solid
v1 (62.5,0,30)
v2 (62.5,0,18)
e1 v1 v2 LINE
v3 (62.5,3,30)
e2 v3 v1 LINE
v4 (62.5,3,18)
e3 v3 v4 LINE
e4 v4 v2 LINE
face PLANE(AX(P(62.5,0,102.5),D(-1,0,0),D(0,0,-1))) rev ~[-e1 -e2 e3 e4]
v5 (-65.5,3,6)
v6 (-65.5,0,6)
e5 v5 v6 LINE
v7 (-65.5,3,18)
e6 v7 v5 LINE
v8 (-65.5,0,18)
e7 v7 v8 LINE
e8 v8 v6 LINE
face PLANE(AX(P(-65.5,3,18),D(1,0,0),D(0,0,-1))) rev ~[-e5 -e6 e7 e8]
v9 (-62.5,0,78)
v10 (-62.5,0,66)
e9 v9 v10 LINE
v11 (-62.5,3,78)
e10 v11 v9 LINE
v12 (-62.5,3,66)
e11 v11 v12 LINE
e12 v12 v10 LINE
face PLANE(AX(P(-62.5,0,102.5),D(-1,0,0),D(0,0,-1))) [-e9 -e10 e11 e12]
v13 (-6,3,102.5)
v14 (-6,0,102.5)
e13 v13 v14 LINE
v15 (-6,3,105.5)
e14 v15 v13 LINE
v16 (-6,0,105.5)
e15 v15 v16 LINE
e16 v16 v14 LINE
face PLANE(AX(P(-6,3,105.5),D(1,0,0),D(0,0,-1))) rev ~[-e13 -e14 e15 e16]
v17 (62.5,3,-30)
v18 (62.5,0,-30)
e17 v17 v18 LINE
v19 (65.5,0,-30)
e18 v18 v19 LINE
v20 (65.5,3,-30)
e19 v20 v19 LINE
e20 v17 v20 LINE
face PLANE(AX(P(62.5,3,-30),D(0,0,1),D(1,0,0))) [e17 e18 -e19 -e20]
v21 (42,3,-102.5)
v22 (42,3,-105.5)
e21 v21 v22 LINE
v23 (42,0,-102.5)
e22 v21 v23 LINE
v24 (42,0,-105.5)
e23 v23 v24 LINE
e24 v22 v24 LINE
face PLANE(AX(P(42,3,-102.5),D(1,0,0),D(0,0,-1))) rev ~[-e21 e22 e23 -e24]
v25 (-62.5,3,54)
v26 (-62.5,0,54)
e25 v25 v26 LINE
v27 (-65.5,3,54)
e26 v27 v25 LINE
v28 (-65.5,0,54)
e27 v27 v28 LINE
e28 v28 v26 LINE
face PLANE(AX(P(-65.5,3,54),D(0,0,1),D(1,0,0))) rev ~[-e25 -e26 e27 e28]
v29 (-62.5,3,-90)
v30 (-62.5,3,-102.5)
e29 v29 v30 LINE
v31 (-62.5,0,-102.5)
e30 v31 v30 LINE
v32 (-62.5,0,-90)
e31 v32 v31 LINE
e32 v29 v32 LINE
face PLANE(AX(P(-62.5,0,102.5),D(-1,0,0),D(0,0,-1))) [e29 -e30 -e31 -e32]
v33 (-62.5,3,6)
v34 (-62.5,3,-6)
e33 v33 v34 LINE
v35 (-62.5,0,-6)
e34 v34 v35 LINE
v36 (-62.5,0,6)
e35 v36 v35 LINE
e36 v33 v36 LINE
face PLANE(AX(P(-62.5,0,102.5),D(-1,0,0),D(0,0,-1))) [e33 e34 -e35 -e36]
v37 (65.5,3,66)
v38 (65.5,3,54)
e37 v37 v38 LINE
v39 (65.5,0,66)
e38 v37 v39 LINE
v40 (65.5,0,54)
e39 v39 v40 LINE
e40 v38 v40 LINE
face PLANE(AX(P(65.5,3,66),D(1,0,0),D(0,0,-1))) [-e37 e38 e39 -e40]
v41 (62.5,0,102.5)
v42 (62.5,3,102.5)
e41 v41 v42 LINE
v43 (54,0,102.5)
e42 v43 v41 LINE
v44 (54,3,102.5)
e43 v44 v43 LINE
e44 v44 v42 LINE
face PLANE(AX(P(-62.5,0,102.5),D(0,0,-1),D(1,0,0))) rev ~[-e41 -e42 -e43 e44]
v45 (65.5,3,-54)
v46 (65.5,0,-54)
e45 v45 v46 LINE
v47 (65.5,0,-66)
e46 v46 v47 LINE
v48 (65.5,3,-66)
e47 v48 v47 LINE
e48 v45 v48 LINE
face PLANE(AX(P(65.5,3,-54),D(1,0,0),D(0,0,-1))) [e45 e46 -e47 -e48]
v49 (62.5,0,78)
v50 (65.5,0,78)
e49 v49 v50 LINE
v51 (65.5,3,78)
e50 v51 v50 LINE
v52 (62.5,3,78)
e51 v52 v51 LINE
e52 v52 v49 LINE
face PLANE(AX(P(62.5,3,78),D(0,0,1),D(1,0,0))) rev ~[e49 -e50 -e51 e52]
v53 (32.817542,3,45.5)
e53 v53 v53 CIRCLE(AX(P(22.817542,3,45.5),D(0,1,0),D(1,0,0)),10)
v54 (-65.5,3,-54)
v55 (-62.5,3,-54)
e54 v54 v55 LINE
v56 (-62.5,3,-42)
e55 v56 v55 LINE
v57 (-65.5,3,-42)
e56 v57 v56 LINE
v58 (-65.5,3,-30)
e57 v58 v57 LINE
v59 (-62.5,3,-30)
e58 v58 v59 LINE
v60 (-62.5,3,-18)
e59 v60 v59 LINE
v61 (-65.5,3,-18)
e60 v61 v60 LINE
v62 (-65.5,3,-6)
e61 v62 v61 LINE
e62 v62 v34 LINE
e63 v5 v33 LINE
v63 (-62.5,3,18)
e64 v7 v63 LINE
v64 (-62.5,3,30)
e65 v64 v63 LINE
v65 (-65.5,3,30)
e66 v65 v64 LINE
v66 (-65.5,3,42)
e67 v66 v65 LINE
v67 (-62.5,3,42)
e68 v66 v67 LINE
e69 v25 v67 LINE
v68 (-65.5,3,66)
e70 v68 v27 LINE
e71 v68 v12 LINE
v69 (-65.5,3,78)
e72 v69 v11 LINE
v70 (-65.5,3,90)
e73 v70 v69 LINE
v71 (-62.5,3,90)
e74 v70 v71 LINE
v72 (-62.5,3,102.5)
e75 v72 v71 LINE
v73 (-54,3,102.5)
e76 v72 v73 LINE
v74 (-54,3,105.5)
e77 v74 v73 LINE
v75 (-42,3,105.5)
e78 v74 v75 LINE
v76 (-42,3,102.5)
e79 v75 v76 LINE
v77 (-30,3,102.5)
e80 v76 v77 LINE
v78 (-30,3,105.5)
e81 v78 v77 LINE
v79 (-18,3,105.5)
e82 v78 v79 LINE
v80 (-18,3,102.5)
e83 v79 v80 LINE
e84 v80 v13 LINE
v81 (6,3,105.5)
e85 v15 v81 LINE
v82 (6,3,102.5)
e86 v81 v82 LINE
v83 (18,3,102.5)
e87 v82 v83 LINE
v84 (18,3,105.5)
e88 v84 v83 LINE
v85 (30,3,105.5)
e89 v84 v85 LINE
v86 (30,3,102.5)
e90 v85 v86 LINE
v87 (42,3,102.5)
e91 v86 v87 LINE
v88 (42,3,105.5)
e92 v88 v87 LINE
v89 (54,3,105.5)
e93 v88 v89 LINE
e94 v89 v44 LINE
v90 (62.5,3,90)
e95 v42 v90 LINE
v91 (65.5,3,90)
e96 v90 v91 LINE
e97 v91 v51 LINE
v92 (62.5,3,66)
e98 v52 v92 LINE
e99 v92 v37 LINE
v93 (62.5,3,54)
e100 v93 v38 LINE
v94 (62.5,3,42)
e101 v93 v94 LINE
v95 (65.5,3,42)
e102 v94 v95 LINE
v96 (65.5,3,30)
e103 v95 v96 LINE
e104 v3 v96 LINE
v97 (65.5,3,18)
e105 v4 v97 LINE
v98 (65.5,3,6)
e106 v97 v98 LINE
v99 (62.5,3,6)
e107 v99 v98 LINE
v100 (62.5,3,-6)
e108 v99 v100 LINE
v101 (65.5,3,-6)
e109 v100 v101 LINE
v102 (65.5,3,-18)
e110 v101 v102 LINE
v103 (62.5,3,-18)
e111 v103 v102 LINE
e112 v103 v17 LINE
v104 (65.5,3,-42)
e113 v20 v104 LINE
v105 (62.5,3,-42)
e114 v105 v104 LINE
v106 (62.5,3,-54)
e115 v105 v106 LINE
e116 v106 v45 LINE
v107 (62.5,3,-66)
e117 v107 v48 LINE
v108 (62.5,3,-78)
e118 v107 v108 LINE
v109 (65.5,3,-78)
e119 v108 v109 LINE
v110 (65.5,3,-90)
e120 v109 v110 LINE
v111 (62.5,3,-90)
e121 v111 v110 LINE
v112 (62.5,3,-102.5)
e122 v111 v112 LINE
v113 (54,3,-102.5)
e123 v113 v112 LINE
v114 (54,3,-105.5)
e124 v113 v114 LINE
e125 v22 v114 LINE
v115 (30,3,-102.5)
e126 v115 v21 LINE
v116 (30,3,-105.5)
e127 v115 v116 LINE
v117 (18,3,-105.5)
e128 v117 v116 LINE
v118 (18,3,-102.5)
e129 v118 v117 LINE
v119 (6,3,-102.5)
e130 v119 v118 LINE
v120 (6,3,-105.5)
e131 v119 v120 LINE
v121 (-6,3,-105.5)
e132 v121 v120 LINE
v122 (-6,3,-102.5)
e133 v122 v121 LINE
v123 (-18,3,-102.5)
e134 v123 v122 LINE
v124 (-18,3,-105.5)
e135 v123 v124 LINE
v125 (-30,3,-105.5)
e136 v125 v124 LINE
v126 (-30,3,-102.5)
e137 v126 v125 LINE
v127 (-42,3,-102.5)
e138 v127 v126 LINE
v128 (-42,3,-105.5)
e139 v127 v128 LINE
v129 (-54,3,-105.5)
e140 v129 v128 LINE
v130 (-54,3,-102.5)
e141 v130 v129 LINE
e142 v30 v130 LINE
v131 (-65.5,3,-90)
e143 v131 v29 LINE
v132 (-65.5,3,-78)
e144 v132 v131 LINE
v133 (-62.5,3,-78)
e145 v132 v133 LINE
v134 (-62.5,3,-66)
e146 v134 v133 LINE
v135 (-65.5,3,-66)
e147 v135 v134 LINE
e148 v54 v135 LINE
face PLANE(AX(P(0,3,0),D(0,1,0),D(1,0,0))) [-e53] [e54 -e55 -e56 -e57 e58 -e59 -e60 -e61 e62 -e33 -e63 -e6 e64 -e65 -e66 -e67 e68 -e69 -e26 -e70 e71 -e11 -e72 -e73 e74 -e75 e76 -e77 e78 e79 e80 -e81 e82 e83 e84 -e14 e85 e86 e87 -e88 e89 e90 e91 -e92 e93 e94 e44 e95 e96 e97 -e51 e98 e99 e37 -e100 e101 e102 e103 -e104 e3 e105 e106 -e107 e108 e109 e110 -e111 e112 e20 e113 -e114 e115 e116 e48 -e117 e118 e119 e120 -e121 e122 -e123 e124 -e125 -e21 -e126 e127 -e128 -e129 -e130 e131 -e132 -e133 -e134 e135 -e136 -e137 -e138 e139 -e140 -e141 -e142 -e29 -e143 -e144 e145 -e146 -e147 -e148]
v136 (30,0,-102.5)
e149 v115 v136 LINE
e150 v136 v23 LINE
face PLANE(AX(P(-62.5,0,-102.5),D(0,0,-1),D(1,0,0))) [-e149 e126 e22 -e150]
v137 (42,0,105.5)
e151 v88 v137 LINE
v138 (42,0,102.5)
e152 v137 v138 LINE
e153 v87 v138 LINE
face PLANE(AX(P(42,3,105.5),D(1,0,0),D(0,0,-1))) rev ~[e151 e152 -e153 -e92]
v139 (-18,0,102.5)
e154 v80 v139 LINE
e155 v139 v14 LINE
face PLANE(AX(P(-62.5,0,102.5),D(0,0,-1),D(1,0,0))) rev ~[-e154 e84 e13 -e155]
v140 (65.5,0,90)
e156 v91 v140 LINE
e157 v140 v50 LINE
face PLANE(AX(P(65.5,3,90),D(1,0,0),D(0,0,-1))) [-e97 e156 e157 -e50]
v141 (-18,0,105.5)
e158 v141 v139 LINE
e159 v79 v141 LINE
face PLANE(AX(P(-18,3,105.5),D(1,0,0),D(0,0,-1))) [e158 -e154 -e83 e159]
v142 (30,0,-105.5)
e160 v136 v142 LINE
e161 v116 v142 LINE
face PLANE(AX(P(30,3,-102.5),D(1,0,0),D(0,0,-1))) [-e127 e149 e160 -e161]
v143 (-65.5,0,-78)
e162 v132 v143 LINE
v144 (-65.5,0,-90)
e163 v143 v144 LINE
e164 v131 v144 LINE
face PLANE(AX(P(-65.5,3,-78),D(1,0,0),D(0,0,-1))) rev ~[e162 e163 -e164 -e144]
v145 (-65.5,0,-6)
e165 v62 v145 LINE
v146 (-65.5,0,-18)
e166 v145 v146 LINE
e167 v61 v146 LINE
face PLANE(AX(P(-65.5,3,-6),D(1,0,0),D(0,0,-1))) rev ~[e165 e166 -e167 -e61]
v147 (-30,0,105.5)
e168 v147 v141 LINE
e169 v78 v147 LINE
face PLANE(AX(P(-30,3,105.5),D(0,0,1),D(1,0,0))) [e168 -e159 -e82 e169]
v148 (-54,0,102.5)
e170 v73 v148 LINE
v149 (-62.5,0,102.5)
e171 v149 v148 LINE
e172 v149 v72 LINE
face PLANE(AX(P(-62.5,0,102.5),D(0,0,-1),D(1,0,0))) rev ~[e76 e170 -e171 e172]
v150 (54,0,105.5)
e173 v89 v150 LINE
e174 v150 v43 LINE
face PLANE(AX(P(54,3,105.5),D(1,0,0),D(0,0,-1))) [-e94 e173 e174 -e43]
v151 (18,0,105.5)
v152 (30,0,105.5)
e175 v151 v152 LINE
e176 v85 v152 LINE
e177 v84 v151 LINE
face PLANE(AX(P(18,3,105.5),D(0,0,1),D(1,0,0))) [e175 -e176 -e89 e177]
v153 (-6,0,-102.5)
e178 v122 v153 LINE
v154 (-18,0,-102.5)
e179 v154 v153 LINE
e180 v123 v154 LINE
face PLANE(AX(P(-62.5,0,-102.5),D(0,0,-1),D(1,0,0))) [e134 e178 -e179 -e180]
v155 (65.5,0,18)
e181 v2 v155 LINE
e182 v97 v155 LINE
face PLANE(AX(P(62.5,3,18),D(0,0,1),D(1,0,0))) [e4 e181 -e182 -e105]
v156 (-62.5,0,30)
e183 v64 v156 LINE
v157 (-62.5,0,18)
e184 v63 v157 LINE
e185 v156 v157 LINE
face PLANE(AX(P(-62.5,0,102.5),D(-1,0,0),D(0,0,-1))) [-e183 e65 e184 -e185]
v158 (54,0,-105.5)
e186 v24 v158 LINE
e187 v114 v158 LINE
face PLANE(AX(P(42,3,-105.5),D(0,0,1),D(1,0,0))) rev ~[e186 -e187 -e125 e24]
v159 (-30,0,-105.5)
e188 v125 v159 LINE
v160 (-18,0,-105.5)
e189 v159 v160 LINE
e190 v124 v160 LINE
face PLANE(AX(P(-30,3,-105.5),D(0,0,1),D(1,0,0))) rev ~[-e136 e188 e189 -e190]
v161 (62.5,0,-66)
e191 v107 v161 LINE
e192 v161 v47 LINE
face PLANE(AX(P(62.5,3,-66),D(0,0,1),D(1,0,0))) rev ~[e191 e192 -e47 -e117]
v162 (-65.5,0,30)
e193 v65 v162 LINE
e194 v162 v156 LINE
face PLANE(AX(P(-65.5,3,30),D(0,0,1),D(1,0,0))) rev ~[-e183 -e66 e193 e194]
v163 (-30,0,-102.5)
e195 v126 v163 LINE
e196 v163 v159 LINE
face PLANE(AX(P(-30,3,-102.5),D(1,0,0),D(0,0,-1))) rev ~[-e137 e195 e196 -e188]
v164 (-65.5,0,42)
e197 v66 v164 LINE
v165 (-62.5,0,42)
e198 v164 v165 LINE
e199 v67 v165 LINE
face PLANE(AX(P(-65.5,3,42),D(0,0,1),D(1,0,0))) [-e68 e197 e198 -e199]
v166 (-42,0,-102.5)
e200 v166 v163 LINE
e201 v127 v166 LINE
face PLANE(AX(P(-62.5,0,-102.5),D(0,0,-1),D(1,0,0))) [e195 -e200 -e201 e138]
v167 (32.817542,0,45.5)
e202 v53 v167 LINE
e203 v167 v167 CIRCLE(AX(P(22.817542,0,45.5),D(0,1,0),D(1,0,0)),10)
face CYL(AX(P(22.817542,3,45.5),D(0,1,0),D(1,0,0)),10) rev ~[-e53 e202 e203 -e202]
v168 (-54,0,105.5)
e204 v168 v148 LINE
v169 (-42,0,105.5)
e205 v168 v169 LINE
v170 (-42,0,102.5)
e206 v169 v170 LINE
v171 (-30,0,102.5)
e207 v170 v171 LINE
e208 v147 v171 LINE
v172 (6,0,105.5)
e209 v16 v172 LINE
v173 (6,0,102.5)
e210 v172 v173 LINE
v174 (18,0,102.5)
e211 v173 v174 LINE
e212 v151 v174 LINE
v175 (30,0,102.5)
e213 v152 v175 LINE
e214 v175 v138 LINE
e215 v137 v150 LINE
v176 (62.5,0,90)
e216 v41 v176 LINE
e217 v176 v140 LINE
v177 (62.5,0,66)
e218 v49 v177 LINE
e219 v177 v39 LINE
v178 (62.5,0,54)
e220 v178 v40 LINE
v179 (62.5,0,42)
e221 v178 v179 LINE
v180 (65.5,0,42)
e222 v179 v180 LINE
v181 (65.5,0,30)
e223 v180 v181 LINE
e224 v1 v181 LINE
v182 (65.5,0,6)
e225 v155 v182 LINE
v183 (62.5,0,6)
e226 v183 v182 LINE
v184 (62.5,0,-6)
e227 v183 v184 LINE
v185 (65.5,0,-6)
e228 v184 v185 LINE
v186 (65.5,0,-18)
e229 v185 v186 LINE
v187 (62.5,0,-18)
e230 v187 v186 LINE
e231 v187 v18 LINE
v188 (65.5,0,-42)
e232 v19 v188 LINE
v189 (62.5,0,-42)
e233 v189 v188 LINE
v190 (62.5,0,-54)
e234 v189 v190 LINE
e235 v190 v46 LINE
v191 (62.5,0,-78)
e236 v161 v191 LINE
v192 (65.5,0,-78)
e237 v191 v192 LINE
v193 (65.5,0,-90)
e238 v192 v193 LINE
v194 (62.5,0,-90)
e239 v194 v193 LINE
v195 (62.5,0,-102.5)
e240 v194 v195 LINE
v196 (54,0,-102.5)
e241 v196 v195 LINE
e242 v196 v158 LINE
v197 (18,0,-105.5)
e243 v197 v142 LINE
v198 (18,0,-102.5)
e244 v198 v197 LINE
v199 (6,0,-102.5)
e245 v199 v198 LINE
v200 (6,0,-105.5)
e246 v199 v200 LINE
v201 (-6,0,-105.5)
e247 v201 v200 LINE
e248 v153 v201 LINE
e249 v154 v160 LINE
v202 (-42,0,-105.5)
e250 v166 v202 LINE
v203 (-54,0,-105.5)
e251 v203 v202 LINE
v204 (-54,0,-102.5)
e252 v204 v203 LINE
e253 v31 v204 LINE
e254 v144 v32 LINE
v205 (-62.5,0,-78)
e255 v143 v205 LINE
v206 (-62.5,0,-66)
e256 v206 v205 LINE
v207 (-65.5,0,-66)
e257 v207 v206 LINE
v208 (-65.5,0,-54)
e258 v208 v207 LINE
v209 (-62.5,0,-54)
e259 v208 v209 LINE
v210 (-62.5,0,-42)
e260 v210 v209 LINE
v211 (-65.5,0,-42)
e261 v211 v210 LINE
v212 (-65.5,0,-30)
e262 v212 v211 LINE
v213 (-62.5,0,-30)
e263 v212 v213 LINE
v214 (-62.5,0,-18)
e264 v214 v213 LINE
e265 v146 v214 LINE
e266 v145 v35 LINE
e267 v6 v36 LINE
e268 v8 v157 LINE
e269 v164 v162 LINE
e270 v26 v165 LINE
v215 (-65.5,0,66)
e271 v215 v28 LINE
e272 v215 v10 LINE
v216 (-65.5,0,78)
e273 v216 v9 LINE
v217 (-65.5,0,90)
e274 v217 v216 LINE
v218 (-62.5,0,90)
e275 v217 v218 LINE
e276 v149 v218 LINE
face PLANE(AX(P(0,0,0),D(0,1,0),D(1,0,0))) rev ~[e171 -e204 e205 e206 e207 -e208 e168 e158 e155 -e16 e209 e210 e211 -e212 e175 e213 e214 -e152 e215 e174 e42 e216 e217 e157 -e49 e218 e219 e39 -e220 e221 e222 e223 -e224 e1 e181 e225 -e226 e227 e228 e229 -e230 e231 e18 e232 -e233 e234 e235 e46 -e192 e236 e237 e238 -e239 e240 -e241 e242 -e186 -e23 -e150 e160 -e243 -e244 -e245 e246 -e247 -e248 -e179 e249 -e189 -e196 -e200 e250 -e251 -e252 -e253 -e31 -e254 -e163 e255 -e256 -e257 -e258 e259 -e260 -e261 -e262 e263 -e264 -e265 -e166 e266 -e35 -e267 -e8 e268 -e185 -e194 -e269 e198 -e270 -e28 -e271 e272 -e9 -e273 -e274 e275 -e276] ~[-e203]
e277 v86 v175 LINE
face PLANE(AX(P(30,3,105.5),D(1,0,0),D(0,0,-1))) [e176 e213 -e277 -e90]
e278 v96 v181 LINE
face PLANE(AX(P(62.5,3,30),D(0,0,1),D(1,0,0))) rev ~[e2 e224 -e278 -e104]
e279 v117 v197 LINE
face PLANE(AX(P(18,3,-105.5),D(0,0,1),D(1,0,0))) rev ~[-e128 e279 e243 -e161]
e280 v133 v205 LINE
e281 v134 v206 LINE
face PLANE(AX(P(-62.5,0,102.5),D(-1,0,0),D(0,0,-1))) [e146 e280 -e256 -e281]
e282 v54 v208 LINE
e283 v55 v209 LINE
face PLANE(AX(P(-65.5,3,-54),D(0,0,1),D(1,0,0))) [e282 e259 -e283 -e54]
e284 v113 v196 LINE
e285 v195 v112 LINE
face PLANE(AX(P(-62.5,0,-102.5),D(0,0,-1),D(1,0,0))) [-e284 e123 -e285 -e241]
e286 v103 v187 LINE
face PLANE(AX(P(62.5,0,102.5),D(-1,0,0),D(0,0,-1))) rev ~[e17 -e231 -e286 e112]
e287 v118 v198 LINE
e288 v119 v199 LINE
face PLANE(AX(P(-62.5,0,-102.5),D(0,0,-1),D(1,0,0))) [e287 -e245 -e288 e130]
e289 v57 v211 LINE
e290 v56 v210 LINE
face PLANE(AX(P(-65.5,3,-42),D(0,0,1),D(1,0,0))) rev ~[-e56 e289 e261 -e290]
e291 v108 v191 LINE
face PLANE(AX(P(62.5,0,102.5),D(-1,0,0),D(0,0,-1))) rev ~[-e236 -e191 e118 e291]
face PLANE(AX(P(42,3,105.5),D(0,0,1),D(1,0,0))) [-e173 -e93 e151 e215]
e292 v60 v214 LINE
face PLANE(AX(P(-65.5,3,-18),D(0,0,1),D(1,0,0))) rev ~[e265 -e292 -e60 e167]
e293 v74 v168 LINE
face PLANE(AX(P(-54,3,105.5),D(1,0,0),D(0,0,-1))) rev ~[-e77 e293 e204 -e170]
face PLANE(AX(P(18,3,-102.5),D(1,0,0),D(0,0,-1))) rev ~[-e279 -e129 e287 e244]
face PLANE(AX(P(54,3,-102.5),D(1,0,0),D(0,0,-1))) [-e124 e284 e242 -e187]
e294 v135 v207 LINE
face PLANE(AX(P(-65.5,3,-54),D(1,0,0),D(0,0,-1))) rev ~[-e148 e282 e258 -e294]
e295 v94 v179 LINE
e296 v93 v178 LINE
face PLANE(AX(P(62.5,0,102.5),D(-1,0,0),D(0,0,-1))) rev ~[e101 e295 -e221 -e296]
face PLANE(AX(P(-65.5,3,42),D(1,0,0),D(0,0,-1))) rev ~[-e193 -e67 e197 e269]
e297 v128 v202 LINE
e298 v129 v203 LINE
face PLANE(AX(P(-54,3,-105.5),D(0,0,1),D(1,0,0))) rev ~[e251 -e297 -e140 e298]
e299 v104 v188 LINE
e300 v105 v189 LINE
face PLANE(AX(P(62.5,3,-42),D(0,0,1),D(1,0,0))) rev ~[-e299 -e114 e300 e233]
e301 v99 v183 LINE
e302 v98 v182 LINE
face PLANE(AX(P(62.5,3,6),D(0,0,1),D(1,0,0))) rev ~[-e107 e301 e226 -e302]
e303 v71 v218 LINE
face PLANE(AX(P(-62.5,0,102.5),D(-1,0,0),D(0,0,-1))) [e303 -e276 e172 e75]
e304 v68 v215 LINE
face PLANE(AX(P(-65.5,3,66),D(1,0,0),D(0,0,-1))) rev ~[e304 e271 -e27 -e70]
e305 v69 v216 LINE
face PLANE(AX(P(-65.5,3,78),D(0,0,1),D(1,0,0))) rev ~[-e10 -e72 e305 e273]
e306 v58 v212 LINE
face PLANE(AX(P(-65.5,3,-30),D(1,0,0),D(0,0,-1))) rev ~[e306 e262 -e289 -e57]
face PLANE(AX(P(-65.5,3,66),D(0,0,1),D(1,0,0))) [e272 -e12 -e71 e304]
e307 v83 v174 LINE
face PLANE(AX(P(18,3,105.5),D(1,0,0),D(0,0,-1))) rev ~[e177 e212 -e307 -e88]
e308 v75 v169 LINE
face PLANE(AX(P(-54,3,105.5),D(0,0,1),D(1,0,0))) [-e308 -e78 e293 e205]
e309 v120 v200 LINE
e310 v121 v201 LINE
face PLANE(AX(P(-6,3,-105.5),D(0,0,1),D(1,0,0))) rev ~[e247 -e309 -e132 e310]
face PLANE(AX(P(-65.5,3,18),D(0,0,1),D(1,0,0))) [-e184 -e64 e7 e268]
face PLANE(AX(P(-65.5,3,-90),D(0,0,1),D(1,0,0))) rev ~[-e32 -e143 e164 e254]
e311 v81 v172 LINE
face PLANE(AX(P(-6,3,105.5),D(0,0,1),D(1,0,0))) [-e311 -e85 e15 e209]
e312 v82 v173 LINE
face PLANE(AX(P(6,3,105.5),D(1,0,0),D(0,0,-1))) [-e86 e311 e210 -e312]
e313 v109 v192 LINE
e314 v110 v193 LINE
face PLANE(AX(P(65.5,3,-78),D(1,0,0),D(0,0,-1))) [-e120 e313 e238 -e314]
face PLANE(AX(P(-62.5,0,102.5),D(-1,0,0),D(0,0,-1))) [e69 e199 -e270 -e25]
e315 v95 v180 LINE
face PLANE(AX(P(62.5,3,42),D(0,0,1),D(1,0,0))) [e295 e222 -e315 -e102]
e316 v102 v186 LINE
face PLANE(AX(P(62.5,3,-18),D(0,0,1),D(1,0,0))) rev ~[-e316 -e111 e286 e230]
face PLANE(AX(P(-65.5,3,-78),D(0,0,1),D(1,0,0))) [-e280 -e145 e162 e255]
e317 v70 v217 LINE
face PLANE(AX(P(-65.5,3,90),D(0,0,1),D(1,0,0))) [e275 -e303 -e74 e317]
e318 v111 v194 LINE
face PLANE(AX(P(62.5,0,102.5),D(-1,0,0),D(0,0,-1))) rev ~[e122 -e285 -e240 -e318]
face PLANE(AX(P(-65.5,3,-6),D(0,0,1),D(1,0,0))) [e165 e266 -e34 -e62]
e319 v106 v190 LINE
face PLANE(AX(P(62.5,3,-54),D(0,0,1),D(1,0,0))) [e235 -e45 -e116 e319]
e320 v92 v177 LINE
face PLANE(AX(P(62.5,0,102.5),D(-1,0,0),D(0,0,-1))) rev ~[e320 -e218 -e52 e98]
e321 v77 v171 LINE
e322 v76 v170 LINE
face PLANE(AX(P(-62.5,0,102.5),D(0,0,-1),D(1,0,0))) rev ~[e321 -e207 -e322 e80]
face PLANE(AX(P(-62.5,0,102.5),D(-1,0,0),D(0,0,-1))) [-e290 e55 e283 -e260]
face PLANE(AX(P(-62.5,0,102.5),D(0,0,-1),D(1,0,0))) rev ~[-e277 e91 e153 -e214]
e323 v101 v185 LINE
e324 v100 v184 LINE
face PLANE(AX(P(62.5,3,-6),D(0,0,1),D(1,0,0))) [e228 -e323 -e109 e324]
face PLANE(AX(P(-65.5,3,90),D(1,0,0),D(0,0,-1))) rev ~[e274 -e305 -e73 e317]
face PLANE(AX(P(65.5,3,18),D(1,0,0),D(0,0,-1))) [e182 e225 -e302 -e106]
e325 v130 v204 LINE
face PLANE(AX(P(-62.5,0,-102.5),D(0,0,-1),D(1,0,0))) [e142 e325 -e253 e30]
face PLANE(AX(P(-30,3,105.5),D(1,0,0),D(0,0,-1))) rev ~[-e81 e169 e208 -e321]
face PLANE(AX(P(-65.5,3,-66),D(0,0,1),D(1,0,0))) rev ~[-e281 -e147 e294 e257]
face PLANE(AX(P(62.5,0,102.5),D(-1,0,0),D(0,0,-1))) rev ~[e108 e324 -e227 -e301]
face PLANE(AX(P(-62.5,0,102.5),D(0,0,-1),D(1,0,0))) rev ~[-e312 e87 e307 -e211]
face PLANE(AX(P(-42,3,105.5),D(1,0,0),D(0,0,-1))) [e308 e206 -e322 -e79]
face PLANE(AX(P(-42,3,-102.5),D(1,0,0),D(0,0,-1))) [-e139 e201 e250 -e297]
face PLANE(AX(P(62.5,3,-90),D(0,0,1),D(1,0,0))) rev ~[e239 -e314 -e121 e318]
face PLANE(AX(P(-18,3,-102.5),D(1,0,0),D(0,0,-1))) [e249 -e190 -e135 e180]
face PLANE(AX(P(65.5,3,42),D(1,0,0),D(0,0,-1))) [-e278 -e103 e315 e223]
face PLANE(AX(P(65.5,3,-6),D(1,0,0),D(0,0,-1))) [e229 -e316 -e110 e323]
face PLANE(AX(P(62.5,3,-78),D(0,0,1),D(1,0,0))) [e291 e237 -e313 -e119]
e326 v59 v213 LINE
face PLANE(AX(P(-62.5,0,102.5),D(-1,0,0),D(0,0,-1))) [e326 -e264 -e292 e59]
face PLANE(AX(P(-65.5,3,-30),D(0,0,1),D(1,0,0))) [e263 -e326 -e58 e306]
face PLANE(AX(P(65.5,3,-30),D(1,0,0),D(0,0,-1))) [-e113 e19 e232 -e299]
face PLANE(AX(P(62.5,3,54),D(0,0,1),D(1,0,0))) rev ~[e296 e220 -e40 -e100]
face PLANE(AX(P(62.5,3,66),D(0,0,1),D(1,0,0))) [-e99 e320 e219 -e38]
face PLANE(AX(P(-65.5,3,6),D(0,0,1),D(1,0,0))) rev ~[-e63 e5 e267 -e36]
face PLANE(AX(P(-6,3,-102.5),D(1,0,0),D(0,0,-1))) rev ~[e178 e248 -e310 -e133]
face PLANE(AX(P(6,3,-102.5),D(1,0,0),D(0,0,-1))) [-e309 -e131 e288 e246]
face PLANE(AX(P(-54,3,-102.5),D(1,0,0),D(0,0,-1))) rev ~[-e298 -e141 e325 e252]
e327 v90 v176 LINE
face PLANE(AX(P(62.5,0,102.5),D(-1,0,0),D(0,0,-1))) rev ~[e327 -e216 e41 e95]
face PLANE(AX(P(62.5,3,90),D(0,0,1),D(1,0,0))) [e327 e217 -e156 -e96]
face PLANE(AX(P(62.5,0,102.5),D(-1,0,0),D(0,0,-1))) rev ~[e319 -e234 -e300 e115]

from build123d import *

# Parameters (mm, degrees)
SKETCH3_W           = 125
SKETCH3_H           = 205
BOSS_EXTRUDE1_DEPTH = 3
SKETCH5_W           = 12
SKETCH5_H           = 3
SKETCH5_W_2         = 3
SKETCH5_H_2         = 12
BOSS_EXTRUDE2_DEPTH = 3
SKETCH6_R           = 10
CUT_EXTRUDE1_DEPTH  = 6


with BuildPart() as part:
    # Sketch3 → Boss-Extrude1 (new body)
    with BuildSketch(Plane(origin=(0, 0, 0), x_dir=(1, 0, 0), z_dir=(0, 1, 0))):
        Rectangle(SKETCH3_W, SKETCH3_H)
    extrude(amount=BOSS_EXTRUDE1_DEPTH)

    # Sketch5 → Boss-Extrude2 (add)
    with BuildSketch(Plane(origin=(0, 3, 0), x_dir=(1, 0, 0), z_dir=(0, 1, 0))):
        with Locations((24, -104)):
            Rectangle(SKETCH5_W, SKETCH5_H)
        with Locations((0, -104)):
            Rectangle(SKETCH5_W, SKETCH5_H)
        with Locations((-64, -84)):
            Rectangle(SKETCH5_W_2, SKETCH5_H_2)
        with Locations((-64, -60)):
            Rectangle(SKETCH5_W_2, SKETCH5_H_2)
        with Locations((-64, -12)):
            Rectangle(SKETCH5_W_2, SKETCH5_H_2)
        with Locations((64, -84)):
            Rectangle(SKETCH5_W_2, SKETCH5_H_2)
        with Locations((64, -36)):
            Rectangle(SKETCH5_W_2, SKETCH5_H_2)
        with Locations((64, -12)):
            Rectangle(SKETCH5_W_2, SKETCH5_H_2)
        with Locations((64, 12)):
            Rectangle(SKETCH5_W_2, SKETCH5_H_2)
        with Locations((64, 36)):
            Rectangle(SKETCH5_W_2, SKETCH5_H_2)
        with Locations((64, 84)):
            Rectangle(SKETCH5_W_2, SKETCH5_H_2)
        with Locations((24, 104)):
            Rectangle(SKETCH5_W, SKETCH5_H)
        with Locations((0, 104)):
            Rectangle(SKETCH5_W, SKETCH5_H)
        with Locations((-24, 104)):
            Rectangle(SKETCH5_W, SKETCH5_H)
        with Locations((-48, 104)):
            Rectangle(SKETCH5_W, SKETCH5_H)
        with Locations((-64, 36)):
            Rectangle(SKETCH5_W_2, SKETCH5_H_2)
        with Locations((-64, 12)):
            Rectangle(SKETCH5_W_2, SKETCH5_H_2)
        with Locations((48, -104)):
            Rectangle(SKETCH5_W, SKETCH5_H)
        with Locations((-24, -104)):
            Rectangle(SKETCH5_W, SKETCH5_H)
        with Locations((-48, -104)):
            Rectangle(SKETCH5_W, SKETCH5_H)
        with Locations((-64, -36)):
            Rectangle(SKETCH5_W_2, SKETCH5_H_2)
        with Locations((64, -60)):
            Rectangle(SKETCH5_W_2, SKETCH5_H_2)
        with Locations((64, 60)):
            Rectangle(SKETCH5_W_2, SKETCH5_H_2)
        with Locations((48, 104)):
            Rectangle(SKETCH5_W, SKETCH5_H)
        with Locations((-64, 84)):
            Rectangle(SKETCH5_W_2, SKETCH5_H_2)
        with Locations((-64, 60)):
            Rectangle(SKETCH5_W_2, SKETCH5_H_2)
    extrude(amount=-BOSS_EXTRUDE2_DEPTH)

    # Sketch6 → Cut-Extrude1 (cut)
    with BuildSketch(Plane(origin=(0, 3, 0), x_dir=(1, 0, 0), z_dir=(0, 1, 0))):
        with Locations((22.817541634, -45.5)):
            Circle(SKETCH6_R)
    extrude(amount=-CUT_EXTRUDE1_DEPTH, mode=Mode.SUBTRACT)


solid = part.part
